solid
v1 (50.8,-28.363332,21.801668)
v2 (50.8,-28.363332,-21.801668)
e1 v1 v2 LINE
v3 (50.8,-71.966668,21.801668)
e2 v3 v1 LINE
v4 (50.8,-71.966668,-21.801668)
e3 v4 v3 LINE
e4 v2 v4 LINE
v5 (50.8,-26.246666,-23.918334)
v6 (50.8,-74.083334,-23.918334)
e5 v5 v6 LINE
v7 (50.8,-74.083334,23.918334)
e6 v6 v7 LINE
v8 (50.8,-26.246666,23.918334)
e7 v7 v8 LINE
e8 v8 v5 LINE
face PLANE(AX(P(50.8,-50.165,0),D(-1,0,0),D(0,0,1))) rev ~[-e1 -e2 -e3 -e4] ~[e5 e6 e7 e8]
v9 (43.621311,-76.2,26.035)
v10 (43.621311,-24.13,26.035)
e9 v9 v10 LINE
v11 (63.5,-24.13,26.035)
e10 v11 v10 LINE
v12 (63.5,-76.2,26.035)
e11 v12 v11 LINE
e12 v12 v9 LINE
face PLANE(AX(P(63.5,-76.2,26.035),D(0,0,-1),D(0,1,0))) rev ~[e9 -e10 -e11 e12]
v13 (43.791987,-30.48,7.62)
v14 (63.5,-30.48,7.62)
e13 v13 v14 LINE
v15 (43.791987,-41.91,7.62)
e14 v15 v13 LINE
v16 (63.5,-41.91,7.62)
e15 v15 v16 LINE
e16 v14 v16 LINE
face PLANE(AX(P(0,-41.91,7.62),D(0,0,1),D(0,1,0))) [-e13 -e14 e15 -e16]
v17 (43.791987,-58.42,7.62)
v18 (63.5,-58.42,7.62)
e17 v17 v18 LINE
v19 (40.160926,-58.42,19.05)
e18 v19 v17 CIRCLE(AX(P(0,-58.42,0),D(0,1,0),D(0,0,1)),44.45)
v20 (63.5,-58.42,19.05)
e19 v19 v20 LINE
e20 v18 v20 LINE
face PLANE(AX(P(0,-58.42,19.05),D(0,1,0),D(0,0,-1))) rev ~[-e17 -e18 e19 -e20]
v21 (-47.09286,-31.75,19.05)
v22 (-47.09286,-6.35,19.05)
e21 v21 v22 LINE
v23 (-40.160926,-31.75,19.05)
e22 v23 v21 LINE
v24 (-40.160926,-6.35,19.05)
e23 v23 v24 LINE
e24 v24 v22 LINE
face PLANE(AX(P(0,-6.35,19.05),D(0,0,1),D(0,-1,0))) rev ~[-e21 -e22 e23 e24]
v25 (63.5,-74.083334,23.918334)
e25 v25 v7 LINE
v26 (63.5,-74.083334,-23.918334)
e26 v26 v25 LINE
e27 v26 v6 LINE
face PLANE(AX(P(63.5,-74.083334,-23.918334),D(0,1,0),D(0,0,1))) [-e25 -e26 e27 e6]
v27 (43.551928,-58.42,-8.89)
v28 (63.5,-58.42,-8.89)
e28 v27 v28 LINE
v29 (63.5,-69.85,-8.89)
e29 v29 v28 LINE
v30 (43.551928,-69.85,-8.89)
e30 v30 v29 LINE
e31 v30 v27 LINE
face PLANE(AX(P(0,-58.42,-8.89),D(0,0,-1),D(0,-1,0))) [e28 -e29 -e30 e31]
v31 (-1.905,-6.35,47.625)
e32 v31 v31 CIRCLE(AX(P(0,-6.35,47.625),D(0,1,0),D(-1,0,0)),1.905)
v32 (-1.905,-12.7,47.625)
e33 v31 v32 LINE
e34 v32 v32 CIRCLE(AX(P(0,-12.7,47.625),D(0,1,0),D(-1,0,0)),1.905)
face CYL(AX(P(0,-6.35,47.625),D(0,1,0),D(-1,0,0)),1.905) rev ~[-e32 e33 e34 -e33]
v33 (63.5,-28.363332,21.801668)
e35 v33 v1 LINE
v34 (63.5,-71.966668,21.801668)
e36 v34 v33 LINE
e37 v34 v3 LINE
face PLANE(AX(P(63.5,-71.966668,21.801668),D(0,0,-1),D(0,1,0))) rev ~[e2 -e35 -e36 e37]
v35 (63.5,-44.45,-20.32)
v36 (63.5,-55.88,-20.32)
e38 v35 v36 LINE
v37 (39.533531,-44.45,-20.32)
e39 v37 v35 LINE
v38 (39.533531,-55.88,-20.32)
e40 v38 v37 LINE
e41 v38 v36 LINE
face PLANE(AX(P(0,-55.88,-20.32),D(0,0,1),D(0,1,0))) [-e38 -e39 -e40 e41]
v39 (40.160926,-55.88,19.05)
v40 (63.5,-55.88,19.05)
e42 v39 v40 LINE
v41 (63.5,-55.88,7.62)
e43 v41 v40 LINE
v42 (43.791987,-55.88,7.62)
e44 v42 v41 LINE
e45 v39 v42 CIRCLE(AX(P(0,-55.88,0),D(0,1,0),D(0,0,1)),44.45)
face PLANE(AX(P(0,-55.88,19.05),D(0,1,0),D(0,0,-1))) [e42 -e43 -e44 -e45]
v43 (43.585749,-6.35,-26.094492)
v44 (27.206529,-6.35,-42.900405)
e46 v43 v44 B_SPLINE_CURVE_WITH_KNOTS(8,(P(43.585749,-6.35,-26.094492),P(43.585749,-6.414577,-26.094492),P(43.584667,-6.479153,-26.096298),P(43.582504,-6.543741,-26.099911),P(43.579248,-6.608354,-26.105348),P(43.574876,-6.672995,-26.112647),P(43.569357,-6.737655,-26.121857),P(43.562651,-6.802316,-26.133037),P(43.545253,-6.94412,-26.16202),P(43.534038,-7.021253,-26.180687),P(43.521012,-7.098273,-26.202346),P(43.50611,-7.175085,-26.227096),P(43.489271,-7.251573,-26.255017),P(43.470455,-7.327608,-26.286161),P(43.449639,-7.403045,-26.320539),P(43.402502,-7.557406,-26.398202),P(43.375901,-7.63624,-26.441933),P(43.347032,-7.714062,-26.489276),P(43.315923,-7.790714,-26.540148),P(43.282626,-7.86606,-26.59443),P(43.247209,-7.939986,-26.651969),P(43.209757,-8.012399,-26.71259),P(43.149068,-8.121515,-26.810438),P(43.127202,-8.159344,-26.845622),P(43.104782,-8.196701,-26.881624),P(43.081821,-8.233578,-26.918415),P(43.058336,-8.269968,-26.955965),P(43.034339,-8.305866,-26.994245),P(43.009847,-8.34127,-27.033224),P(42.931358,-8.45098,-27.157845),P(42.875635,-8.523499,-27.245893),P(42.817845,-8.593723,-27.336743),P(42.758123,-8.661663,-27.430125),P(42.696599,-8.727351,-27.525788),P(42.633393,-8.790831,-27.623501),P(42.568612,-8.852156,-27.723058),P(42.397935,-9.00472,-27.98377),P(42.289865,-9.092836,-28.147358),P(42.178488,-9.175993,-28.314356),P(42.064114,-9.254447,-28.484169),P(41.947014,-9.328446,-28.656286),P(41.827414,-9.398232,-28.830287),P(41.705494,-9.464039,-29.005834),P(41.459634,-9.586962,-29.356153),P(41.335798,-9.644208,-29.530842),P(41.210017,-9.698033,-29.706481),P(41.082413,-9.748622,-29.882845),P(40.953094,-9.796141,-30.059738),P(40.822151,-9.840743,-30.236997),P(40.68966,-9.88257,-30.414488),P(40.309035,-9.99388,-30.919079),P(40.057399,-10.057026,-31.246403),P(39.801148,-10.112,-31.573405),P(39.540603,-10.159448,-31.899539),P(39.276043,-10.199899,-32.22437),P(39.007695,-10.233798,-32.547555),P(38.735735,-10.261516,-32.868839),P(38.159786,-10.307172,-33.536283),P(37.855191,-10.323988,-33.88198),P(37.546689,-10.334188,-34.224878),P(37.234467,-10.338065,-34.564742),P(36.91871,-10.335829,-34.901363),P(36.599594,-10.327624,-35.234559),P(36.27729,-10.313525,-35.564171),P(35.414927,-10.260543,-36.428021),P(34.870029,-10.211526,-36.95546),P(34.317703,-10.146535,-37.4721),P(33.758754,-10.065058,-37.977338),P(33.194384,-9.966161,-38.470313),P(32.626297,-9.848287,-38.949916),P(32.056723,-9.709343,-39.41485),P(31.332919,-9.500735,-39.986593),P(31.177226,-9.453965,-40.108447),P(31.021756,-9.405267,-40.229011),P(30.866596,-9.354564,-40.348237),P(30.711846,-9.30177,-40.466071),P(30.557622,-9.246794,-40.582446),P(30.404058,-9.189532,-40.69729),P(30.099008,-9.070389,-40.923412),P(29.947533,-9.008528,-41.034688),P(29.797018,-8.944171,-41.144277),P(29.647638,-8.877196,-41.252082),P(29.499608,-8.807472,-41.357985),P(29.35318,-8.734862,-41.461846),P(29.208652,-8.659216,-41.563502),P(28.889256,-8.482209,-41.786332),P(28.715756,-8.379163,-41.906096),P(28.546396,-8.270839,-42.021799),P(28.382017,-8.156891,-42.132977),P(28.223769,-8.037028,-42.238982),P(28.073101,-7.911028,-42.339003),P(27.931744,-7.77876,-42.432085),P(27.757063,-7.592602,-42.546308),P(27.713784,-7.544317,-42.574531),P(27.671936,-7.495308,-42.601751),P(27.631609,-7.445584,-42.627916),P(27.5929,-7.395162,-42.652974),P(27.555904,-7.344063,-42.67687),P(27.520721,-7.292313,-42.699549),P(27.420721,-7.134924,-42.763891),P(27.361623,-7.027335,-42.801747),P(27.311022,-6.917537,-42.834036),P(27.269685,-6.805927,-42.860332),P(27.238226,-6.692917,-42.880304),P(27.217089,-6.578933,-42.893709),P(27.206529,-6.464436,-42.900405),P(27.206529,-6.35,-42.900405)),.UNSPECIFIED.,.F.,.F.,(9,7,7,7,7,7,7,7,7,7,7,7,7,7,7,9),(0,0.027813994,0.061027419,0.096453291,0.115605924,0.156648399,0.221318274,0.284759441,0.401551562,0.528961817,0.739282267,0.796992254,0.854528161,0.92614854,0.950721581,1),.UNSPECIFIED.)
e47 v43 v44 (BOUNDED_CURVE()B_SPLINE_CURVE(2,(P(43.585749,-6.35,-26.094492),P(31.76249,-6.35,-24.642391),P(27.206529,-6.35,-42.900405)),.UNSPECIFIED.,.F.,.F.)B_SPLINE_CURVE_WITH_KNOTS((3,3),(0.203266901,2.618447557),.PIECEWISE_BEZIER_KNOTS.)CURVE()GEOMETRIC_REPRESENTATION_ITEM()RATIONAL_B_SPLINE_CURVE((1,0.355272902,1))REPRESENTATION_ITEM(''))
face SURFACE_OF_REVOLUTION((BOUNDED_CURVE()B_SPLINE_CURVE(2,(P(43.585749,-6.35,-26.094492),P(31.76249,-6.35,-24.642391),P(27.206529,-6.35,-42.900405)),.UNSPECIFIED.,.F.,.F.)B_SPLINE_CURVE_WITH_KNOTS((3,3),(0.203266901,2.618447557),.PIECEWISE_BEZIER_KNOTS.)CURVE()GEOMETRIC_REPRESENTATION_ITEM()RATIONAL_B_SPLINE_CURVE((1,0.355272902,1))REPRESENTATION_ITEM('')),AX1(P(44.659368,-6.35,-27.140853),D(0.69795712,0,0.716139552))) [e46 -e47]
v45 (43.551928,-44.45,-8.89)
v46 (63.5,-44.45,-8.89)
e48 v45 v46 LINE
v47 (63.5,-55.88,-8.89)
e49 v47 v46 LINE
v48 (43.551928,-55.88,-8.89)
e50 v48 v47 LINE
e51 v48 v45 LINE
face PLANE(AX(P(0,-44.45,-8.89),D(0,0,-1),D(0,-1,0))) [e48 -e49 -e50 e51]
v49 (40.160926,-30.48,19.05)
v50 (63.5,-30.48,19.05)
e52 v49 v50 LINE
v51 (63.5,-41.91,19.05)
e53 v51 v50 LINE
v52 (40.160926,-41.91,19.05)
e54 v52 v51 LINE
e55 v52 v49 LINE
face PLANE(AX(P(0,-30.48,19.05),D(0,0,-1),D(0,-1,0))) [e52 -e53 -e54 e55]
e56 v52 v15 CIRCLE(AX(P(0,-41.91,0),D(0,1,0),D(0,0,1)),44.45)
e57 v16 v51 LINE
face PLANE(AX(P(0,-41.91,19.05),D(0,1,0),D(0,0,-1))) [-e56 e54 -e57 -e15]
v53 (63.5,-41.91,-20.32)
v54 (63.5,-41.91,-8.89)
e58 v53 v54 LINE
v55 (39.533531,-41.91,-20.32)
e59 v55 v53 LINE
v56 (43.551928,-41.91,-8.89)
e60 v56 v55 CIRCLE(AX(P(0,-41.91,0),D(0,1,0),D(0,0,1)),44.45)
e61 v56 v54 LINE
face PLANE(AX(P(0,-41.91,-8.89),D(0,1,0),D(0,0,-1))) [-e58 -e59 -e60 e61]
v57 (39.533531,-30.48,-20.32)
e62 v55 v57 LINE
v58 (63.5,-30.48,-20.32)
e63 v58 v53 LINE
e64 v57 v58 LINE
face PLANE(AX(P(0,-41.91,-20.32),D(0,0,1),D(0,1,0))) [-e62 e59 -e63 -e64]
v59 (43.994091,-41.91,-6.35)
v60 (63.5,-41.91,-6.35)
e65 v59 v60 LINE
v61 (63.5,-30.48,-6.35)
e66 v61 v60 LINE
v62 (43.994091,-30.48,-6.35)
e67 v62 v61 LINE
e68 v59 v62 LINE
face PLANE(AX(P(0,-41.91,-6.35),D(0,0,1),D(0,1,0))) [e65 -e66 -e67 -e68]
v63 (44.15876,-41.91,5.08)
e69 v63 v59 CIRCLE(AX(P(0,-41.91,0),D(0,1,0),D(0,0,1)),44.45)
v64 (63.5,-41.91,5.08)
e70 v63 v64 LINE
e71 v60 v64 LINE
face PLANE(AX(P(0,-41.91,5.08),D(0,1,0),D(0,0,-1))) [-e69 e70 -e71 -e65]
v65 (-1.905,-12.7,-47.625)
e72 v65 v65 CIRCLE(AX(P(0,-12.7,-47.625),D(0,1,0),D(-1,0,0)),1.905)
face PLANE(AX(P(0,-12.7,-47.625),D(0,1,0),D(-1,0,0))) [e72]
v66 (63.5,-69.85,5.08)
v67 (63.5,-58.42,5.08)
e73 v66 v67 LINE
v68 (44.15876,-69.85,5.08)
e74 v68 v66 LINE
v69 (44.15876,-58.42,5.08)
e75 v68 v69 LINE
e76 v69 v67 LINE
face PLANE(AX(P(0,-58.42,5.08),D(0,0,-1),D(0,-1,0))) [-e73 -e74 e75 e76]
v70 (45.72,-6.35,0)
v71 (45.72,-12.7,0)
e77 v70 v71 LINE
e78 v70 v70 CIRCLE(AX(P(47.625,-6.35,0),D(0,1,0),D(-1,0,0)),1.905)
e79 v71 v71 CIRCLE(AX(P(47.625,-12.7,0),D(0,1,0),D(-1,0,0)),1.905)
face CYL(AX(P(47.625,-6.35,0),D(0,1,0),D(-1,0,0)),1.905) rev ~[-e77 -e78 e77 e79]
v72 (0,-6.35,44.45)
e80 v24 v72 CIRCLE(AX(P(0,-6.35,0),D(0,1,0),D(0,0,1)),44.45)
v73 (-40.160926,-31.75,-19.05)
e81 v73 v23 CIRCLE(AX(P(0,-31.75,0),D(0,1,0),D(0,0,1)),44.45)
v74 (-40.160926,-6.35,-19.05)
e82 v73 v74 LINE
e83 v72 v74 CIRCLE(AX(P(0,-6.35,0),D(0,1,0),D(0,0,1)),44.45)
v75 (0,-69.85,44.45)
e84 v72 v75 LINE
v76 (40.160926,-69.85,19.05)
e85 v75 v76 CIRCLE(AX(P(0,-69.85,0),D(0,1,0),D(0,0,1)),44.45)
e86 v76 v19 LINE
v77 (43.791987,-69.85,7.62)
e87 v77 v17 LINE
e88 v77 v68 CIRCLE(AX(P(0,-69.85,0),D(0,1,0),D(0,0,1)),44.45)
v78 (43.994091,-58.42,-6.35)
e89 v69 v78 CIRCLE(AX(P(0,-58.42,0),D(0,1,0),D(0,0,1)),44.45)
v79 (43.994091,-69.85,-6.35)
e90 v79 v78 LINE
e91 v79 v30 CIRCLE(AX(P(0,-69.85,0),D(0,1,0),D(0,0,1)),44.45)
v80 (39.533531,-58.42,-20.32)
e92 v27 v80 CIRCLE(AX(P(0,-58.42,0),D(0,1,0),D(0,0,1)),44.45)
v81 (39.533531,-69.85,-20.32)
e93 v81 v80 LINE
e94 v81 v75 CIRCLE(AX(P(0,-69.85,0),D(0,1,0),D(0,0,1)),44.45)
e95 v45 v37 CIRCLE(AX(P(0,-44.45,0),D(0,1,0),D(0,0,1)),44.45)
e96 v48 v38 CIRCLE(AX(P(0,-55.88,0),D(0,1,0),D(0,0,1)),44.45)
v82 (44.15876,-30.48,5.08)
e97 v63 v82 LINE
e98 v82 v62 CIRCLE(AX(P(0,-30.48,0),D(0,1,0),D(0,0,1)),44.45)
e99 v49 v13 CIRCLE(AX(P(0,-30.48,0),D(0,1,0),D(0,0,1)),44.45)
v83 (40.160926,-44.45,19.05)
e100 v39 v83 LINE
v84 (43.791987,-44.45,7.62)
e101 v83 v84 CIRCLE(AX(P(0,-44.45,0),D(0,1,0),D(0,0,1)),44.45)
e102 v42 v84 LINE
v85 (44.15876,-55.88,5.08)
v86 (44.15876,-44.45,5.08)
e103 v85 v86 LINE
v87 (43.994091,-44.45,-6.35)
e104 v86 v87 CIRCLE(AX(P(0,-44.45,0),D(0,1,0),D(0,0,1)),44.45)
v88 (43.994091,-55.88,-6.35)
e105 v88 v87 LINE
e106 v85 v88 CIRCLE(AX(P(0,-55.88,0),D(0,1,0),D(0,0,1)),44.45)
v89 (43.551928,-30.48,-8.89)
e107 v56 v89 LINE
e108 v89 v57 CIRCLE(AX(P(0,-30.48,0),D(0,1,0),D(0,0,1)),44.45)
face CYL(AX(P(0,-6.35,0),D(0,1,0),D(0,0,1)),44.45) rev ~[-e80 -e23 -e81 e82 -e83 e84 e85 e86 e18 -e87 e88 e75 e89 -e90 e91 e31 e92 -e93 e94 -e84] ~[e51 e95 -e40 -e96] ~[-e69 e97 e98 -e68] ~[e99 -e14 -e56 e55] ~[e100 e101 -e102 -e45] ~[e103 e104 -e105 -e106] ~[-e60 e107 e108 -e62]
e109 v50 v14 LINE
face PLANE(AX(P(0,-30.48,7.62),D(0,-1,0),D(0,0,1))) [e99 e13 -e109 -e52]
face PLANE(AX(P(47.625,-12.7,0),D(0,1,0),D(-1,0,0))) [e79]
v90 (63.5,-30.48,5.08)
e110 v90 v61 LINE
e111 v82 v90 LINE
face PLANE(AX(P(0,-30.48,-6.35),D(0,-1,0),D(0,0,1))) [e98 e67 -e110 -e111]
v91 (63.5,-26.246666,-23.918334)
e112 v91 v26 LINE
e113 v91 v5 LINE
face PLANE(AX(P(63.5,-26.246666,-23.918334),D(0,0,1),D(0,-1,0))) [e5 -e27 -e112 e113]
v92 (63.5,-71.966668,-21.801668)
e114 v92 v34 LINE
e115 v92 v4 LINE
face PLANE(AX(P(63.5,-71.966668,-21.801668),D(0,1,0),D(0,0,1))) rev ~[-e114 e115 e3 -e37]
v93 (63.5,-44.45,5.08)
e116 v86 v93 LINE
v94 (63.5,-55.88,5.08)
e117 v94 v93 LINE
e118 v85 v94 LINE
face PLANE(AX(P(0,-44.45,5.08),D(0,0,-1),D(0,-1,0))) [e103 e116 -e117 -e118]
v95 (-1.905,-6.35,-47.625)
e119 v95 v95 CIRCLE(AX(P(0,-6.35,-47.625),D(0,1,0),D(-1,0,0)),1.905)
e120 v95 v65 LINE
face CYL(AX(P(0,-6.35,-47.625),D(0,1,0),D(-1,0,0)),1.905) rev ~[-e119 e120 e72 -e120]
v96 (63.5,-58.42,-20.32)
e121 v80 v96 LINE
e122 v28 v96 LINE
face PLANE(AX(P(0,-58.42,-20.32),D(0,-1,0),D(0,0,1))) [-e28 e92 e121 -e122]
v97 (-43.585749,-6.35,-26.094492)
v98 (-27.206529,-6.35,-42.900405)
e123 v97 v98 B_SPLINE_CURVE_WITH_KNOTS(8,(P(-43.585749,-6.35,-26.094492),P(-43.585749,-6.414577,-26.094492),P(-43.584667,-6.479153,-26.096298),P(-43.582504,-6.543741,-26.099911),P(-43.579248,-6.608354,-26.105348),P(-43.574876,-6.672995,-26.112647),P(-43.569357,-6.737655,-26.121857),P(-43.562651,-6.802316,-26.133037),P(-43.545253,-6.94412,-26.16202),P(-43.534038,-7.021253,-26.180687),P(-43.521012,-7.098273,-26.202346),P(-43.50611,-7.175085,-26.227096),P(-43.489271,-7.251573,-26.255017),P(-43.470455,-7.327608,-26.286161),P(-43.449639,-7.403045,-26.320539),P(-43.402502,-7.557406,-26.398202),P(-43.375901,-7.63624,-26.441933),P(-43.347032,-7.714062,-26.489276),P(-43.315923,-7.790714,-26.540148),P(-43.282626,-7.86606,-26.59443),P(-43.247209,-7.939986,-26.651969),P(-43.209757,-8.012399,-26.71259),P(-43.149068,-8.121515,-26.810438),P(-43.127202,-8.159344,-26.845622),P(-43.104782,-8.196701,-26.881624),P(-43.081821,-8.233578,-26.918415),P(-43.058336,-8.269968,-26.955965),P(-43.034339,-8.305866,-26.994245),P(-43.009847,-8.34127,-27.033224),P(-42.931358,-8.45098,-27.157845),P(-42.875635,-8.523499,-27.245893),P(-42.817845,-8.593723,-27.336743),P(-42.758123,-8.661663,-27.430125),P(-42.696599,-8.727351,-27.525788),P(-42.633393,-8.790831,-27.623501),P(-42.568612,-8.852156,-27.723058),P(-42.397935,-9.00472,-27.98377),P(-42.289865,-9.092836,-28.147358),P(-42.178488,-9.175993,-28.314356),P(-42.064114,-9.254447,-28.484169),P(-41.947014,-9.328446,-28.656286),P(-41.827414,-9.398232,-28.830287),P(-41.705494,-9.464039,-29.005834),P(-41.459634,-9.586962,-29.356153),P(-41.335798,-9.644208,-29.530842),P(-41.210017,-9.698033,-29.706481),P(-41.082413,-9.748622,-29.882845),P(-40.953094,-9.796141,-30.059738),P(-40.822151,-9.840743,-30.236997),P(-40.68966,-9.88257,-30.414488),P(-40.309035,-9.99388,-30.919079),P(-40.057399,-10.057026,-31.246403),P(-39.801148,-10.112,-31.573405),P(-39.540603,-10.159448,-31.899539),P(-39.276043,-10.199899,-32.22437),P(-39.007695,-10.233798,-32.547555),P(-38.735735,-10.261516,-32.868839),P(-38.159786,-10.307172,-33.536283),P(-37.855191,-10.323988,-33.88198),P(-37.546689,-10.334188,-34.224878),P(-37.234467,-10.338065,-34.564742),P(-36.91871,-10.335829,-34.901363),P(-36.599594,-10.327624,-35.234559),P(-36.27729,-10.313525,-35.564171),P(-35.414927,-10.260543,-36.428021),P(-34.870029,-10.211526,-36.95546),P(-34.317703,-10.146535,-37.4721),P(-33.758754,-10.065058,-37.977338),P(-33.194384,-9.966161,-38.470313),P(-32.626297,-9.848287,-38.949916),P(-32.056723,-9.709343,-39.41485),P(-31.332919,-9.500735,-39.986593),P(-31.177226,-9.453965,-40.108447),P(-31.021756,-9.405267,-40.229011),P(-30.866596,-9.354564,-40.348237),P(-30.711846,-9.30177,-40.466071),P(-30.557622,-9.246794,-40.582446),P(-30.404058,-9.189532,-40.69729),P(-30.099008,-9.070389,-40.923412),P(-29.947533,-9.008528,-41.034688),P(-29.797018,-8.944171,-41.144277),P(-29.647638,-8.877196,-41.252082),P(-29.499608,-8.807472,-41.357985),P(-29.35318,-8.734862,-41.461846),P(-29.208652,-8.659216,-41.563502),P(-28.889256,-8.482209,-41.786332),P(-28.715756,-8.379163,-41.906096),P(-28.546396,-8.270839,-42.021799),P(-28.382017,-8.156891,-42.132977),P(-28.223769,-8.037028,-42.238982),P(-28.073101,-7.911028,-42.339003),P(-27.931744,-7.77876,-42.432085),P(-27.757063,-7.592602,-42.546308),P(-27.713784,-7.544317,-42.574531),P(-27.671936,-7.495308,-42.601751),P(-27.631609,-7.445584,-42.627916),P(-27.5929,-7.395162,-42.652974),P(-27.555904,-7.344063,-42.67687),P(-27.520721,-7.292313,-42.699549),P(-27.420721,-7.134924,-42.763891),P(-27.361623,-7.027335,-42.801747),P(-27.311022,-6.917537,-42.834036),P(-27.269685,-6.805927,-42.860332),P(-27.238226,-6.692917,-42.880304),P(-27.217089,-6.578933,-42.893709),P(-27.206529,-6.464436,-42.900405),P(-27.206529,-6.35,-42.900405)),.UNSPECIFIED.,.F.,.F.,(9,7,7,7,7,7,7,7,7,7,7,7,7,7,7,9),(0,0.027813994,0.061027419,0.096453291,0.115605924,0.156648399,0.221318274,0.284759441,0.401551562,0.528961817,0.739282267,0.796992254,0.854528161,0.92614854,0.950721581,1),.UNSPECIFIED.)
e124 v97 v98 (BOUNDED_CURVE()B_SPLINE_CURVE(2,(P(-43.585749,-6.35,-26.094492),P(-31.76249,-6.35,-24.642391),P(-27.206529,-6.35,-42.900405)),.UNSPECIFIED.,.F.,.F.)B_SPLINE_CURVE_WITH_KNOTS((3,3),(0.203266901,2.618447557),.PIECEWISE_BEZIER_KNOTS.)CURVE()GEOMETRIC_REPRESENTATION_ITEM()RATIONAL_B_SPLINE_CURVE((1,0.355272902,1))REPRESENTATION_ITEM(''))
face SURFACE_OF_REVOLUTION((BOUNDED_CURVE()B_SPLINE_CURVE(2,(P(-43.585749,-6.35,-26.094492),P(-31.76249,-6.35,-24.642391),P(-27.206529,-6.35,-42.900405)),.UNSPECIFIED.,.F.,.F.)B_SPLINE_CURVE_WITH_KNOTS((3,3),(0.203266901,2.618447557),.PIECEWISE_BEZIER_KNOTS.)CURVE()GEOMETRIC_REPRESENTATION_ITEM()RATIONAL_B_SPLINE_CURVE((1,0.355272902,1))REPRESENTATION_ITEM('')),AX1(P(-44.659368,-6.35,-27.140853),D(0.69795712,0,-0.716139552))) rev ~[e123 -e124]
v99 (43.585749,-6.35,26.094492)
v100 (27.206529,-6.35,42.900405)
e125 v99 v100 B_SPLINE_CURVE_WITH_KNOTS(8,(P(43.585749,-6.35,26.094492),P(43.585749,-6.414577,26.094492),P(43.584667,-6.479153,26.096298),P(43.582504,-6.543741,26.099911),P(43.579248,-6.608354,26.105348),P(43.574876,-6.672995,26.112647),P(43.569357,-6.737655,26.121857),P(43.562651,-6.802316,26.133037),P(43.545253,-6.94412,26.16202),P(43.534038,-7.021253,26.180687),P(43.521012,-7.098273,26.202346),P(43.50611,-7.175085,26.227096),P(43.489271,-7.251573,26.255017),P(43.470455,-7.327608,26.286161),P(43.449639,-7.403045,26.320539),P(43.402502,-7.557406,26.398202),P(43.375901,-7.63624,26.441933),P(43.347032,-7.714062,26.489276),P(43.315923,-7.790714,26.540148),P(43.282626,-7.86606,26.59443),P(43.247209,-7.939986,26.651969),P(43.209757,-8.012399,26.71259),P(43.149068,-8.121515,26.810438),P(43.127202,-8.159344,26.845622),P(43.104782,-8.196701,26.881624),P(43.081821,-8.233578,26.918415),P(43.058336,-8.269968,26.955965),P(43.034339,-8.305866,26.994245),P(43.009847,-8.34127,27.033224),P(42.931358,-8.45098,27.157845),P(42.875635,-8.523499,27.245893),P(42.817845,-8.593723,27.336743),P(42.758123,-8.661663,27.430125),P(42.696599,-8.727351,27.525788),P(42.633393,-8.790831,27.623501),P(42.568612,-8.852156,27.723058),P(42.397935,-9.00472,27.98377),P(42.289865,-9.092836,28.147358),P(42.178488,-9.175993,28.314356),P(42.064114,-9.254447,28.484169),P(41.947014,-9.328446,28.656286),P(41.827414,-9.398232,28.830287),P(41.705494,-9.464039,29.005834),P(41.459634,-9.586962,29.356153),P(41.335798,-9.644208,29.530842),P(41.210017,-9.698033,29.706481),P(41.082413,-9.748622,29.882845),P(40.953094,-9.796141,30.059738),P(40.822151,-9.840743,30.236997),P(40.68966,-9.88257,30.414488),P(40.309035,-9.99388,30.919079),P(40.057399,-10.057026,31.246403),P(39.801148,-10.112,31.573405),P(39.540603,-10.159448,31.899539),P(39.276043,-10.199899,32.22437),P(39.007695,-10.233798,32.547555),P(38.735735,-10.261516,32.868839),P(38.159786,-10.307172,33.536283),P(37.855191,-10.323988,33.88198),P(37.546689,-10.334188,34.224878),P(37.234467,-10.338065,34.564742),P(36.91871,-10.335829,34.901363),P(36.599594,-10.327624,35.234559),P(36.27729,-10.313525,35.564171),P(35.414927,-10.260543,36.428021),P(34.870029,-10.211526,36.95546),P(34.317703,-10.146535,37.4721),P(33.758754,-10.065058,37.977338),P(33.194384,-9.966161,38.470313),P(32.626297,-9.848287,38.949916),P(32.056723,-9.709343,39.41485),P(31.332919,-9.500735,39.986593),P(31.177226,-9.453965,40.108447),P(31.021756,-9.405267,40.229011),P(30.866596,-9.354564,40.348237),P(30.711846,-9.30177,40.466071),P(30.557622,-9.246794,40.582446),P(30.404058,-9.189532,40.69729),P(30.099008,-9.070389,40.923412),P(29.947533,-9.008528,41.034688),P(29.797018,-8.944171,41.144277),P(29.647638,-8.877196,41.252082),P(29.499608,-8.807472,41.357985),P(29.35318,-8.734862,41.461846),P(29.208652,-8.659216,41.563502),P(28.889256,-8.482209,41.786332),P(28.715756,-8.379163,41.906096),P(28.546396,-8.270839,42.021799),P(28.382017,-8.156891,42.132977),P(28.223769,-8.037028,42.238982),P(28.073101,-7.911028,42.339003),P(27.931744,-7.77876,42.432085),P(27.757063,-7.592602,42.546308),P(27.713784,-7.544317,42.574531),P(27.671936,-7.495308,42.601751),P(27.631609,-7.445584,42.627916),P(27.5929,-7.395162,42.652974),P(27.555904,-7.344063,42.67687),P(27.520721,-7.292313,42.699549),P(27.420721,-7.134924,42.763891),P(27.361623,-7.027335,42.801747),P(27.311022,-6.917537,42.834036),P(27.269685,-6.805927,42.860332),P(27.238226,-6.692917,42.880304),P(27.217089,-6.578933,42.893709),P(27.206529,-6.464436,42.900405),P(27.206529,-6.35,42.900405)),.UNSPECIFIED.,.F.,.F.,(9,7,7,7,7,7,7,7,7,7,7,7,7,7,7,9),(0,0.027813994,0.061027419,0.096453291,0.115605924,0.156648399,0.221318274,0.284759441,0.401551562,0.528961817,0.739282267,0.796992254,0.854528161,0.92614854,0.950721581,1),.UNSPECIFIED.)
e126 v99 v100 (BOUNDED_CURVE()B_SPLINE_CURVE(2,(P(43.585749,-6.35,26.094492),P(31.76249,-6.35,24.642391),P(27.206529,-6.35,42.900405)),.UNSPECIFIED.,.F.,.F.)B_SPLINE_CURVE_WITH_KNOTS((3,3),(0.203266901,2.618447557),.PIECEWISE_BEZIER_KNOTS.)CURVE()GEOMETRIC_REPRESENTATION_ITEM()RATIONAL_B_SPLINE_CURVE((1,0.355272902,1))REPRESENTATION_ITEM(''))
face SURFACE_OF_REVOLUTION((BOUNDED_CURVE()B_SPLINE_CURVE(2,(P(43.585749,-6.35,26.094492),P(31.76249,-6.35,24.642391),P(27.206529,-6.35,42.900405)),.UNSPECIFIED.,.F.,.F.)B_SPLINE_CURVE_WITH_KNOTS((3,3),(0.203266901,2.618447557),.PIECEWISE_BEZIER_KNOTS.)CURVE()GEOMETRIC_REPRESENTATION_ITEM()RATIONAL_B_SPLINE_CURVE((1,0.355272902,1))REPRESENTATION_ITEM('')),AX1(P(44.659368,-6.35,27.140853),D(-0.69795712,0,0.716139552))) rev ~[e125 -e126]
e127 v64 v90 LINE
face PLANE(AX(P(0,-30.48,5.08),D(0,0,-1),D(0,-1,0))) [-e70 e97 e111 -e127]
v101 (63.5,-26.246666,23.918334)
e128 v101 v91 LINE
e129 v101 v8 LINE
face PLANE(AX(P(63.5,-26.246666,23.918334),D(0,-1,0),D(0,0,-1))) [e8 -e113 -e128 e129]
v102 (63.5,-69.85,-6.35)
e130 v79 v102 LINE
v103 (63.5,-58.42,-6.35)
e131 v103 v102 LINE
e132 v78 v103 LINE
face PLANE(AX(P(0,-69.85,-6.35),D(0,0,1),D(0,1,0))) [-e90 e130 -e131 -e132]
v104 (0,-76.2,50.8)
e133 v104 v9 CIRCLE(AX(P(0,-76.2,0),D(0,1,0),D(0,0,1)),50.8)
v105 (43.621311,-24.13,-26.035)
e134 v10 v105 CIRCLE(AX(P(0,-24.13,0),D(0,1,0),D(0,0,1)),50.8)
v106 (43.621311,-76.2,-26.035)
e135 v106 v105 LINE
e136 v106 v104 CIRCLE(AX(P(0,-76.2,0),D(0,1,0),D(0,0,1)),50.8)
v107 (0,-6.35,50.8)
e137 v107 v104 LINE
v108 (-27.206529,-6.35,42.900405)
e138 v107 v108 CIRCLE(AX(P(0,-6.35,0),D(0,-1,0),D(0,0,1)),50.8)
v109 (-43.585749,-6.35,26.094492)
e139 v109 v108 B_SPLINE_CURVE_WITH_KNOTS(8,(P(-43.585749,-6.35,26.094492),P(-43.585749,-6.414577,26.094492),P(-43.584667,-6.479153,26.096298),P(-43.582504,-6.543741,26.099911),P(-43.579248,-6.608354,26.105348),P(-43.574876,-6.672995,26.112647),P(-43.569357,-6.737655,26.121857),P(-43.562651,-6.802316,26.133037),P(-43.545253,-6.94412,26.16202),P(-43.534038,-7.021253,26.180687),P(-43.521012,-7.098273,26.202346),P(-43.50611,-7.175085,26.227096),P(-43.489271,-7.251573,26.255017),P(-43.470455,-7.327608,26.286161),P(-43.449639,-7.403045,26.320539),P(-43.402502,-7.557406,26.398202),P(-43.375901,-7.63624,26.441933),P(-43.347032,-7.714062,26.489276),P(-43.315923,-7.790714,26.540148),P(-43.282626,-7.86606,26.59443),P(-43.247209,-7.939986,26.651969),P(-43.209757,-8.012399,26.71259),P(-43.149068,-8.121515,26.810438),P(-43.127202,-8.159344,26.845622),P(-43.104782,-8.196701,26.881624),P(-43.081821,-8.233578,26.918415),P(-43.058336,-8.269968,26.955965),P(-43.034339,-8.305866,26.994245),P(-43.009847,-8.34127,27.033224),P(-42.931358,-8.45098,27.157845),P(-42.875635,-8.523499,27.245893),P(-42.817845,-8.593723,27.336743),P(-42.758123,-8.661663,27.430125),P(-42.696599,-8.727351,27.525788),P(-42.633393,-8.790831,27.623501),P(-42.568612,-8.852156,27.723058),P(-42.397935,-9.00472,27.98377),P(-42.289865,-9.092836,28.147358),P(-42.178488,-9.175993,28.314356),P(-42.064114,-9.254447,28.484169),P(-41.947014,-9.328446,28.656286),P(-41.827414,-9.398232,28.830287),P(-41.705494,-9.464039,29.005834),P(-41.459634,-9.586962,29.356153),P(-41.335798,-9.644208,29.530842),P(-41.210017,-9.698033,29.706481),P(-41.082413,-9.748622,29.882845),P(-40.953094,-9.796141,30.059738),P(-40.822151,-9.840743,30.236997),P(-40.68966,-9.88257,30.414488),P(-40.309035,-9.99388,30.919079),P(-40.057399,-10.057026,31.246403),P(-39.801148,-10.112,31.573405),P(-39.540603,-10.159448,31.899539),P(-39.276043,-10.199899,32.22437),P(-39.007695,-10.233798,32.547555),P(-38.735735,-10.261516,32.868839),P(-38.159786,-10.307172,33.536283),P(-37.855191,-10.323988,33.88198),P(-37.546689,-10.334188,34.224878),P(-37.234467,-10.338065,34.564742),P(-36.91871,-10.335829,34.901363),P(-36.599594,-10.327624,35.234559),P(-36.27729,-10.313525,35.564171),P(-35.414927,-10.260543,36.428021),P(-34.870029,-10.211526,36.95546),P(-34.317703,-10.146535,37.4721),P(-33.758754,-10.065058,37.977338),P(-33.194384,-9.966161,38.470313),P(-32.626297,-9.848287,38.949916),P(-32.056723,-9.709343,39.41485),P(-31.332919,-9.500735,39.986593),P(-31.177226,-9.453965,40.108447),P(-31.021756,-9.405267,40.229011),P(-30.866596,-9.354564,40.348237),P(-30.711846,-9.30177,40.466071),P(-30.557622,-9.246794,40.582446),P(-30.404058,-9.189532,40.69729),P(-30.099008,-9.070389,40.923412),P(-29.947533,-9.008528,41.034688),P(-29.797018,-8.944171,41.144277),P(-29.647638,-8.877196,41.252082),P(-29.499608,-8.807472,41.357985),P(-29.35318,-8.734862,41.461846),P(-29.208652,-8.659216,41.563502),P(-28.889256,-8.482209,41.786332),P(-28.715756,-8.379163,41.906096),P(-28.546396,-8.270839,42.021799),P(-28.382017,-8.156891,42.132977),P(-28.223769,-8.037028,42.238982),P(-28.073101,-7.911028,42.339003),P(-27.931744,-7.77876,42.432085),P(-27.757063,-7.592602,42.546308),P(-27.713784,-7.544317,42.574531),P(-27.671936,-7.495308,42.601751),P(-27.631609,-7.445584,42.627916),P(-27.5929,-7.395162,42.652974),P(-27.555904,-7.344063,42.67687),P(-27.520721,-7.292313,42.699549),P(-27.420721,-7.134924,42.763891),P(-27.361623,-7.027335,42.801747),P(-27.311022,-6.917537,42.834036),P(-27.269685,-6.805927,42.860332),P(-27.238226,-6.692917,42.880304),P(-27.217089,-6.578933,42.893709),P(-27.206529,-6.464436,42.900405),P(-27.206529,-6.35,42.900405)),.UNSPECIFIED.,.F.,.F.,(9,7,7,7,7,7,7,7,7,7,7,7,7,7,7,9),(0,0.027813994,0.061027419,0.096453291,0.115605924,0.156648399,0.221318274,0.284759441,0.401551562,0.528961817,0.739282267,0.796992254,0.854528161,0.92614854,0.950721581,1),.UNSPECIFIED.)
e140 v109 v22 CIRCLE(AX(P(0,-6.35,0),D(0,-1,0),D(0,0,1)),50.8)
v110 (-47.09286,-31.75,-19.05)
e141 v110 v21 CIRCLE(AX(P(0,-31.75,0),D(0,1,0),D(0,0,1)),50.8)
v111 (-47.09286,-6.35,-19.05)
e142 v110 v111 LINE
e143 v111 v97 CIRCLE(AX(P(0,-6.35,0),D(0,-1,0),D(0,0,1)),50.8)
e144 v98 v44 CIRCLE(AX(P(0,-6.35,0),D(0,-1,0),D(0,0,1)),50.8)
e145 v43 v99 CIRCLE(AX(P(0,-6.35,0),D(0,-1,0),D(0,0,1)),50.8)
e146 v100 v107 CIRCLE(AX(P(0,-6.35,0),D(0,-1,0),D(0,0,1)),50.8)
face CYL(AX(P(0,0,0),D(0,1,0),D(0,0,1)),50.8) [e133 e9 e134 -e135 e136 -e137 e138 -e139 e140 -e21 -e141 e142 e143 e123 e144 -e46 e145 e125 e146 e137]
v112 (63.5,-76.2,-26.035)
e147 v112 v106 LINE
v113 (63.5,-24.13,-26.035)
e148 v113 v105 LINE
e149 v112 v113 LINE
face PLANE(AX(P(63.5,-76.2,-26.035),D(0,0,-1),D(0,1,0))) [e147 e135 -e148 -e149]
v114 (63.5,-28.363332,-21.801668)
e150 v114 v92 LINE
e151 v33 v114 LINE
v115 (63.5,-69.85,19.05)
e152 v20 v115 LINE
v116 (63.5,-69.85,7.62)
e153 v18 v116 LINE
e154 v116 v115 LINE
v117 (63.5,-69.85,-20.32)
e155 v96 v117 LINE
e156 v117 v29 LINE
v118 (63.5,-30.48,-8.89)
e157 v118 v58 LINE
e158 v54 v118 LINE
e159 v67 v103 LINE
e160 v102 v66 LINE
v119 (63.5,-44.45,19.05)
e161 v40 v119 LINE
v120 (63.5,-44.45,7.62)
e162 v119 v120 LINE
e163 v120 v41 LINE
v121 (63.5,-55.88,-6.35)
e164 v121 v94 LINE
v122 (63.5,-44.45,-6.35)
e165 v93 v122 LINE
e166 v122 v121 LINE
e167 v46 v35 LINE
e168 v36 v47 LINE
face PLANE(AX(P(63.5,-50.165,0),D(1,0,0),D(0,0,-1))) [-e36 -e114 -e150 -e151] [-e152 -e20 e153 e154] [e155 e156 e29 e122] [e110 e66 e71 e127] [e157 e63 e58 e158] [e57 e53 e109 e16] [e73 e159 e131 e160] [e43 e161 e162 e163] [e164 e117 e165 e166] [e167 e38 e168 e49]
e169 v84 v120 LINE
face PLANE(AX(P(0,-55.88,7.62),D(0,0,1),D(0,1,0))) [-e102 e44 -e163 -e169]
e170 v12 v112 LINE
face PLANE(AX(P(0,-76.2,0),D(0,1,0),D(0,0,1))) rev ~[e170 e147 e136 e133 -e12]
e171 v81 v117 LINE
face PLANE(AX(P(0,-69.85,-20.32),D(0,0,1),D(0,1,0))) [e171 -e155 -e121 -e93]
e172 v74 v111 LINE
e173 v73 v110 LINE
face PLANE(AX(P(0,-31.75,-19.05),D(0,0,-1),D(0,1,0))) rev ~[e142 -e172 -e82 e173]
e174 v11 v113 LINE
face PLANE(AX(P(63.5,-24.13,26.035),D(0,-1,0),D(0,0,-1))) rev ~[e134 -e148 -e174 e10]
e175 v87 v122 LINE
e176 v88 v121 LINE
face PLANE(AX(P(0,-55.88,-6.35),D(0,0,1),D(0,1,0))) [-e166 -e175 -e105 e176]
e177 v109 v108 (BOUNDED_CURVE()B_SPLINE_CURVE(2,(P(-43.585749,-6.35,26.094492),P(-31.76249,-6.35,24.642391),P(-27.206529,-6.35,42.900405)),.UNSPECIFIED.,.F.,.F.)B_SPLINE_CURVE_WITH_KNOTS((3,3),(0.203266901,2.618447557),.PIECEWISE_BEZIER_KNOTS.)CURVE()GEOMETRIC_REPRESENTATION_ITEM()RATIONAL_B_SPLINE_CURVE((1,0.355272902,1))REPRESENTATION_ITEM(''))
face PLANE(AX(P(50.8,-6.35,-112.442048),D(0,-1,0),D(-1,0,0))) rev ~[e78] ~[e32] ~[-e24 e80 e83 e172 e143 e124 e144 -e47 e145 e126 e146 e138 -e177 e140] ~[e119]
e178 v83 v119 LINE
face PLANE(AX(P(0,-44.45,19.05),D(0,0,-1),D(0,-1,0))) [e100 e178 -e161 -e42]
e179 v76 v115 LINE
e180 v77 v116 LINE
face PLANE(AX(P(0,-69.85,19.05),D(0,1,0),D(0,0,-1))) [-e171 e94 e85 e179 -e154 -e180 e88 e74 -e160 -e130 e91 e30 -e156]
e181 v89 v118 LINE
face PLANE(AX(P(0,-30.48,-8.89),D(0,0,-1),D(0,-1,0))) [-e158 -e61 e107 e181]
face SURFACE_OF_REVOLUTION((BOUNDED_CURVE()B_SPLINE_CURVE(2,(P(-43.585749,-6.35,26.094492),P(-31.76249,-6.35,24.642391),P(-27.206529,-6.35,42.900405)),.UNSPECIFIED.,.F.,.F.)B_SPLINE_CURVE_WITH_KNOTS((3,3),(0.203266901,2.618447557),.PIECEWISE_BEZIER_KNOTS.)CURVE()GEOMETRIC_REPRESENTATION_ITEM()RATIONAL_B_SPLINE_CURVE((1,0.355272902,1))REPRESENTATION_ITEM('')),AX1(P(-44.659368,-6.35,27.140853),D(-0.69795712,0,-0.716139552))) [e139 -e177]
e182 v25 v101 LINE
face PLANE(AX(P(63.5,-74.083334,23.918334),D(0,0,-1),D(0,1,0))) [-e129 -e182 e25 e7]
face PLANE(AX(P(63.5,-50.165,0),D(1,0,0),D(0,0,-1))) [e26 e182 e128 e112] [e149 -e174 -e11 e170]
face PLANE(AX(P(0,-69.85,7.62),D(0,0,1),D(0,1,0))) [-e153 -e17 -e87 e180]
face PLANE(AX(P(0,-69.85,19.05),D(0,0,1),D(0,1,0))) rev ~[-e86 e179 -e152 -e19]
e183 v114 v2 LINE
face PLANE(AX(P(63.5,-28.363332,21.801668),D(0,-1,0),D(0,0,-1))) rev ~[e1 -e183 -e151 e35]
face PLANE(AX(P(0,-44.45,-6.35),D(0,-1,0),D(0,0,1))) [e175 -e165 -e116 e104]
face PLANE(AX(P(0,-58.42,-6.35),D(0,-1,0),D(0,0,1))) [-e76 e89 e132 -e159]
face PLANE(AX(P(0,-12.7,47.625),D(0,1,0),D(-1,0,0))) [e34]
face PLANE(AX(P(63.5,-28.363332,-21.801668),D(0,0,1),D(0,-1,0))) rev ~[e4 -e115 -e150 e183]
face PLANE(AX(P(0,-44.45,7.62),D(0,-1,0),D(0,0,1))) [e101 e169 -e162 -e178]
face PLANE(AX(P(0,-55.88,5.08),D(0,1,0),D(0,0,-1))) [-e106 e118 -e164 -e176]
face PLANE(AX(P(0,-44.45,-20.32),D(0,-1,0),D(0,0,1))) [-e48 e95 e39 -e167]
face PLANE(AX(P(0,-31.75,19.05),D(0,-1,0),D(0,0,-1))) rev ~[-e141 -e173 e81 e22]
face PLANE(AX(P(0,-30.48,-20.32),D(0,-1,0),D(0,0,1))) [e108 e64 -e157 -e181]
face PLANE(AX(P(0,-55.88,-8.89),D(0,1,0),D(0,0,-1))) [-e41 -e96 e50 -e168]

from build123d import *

# Parameters (mm, degrees)
SKETCH2_R                = 50.8
BOSS_EXTRUDE1_DEPTH      = 76.2
CUT_EXTRUDE4_START       = -6.35
SKETCH5_R                = 44.449999999999996
CUT_EXTRUDE4_DEPTH       = 63.5
CUT_EXTRUDE6_REACH       = 106.727
SKETCH14_R               = 7.62
BOSS_EXTRUDE4_REACH      = 170.227
BOSS_EXTRUDE4_END_RADIUS = 50.8
BOSS_EXTRUDE4_START      = 63.5
SKETCH17_W               = 52.06999999999999
SKETCH17_H               = 52.06999999999999
SKETCH15_W               = 11.430000000000003
SKETCH15_H               = 11.430000000000021
CUT_EXTRUDE7_DEPTH       = 112.44204771987995
CUT_EXTRUDE9_DEPTH       = 12.7
CUT_EXTRUDE10_DEPTH      = 112.44204771987995
CUT_EXTRUDE10_DEPTH_BACK = 112.44204771987995
SKETCH22_R               = 1.9049999999999998
SKETCH22_R_2             = 1.905
CUT_EXTRUDE11_DEPTH      = 6.35
CUT_EXTRUDE12_REACH      = 113.442
CUT_EXTRUDE12_END_RADIUS = 50.8


with BuildPart() as part:
    # Sketch2 → Boss-Extrude1 (new body)
    with BuildSketch(Plane(origin=(0, 0, 0), x_dir=(1, 0, 0), z_dir=(0, 1, 0))):
        with Locations(Location((0, 0, 0), (0, 0, 270))):
            Circle(SKETCH2_R)
    extrude(amount=-BOSS_EXTRUDE1_DEPTH)

    # Sketch5 → Cut-Extrude4 (cut)
    with BuildSketch(Plane(origin=(0, 0, 0), x_dir=(1, 0, 0), z_dir=(0, 1, 0)).offset(CUT_EXTRUDE4_START)):
        with Locations(Location((0, 0, 0), (0, 0, 270))):
            Circle(SKETCH5_R)
    extrude(amount=-CUT_EXTRUDE4_DEPTH, mode=Mode.SUBTRACT)

    # Sketch14 → Cut-Extrude6 (cut, up to next)
    with BuildSketch(Plane(origin=(0, 0, 0), x_dir=(1, 0, 0), z_dir=(0, 1, 0)), mode=Mode.PRIVATE) as cut_extrude6_sk1:
        with Locations(Location((0, 0, 0), (0, 0, 270))):
            Circle(SKETCH14_R)
    cut_extrude6_tool1 = extrude(cut_extrude6_sk1.sketch, amount=-CUT_EXTRUDE6_REACH, mode=Mode.PRIVATE) & part.part
    add(cut_extrude6_tool1.solids().sort_by_distance((0, 0, 0))[0], mode=Mode.SUBTRACT)

    # Boss-Extrude4: up to this cylinder (the profile starts outside it)
    boss_extrude4_end = Plane(origin=(0, -50.165, 0), z_dir=(0, 1, 0)) * Cylinder(BOSS_EXTRUDE4_END_RADIUS, 443.054, mode=Mode.PRIVATE)
    # Sketch17 → Boss-Extrude4 (add, up to the surface)
    with BuildSketch(Plane(origin=(0, 0, 0), x_dir=(0, 0, -1), z_dir=(1, 0, 0)).offset(BOSS_EXTRUDE4_START), mode=Mode.PRIVATE) as boss_extrude4_sk1:
        with Locations((0, -50.165000000000006)):
            Rectangle(SKETCH17_W, SKETCH17_H)
    boss_extrude4_tool1 = extrude(boss_extrude4_sk1.sketch, amount=-BOSS_EXTRUDE4_REACH, mode=Mode.PRIVATE) - boss_extrude4_end
    add(boss_extrude4_tool1.solids().sort_by_distance((63.5, -50.165, 0))[0])

    # Sketch15 → Cut-Extrude7 (cut, through all)
    with BuildSketch(Plane(origin=(0, 0, 0), x_dir=(0, 0, -1), z_dir=(1, 0, 0))):
        Polygon((8.890000000000002, -30.480000000000018), (8.890000000000004, -41.91000000000002), (20.320000000000007, -41.91000000000002), (20.320000000000004, -30.480000000000018), align=None)
        Polygon((8.890000000000004, -44.45000000000002), (8.890000000000004, -55.879999999999995), (20.32000000000001, -55.87999999999999), (20.320000000000004, -44.45000000000002), align=None)
        Polygon((8.890000000000004, -58.42000000000001), (8.890000000000006, -69.85000000000002), (20.320000000000007, -69.85000000000002), (20.320000000000004, -58.42000000000001), align=None)
        Polygon((-5.079999999999998, -30.480000000000018), (-5.0799999999999965, -41.91000000000002), (6.350000000000003, -41.91000000000002), (6.3500000000000005, -30.480000000000018), align=None)
        Polygon((-5.0799999999999965, -44.45000000000002), (-5.079999999999994, -55.879999999999995), (6.350000000000005, -55.879999999999995), (6.350000000000002, -44.45000000000002), align=None)
        Polygon((-5.079999999999994, -58.42000000000001), (-5.079999999999992, -69.85000000000002), (6.3500000000000085, -69.85000000000002), (6.350000000000005, -58.42000000000001), align=None)
        with Locations((-13.334999999999996, -64.13500000000002)):
            Rectangle(SKETCH15_W, SKETCH15_H)
        Polygon((-19.049999999999997, -44.45000000000002), (-19.049999999999997, -55.88), (-7.619999999999997, -55.88), (-7.620000000000001, -44.45000000000001), align=None)
        Polygon((-19.049999999999997, -30.480000000000018), (-19.049999999999997, -41.91000000000002), (-7.619999999999997, -41.91000000000002), (-7.619999999999999, -30.480000000000018), align=None)
    extrude(amount=CUT_EXTRUDE7_DEPTH, mode=Mode.SUBTRACT)

    # Sketch19 → Cut-Extrude9 (cut)
    with BuildSketch(Plane(origin=(63.5, 0, 0), x_dir=(0, 0, -1), z_dir=(1, 0, 0))):
        Polygon((-23.91833418, -26.24666582000001), (23.91833418, -26.24666582000001), (23.918334180000006, -74.08333418000001), (-23.918334179999995, -74.08333418000001), align=None)
        Polygon((-21.801668359999997, -28.36333164000001), (21.801668359999997, -28.36333164000001), (21.801668360000008, -71.96666836), (-21.80166835999999, -71.96666836), align=None, mode=Mode.SUBTRACT)
    extrude(amount=-CUT_EXTRUDE9_DEPTH, mode=Mode.SUBTRACT)

    # Sketch21 → Cut-Extrude10 (cut, two sides: drawn at the far end of the back side and taken through both)
    with BuildSketch(Plane.XY.offset(-CUT_EXTRUDE10_DEPTH_BACK)):
        Polygon((-50.8, -5.551e-14), (50.8, -5.551e-14), (50.8, -6.350000000000057), (-50.8, -6.350000000000056), align=None)
    extrude(amount=CUT_EXTRUDE10_DEPTH + CUT_EXTRUDE10_DEPTH_BACK, mode=Mode.SUBTRACT)

    # Sketch22 → Cut-Extrude11 (cut)
    with BuildSketch(Plane(origin=(-1.1e-16, -6.3500000000000565, 0), x_dir=(1, -2e-17, 0), z_dir=(2e-17, 1, 0))):
        with Locations(Location((-47.625, 0, 0), (0, 0, 180))):
            Circle(SKETCH22_R)
        with Locations(Location((-3.47e-15, 47.625, 0), (0, 0, 180))):
            Circle(SKETCH22_R_2)
        with Locations(Location((47.625, -2e-17, 0), (0, 0, 180))):
            Circle(SKETCH22_R)
        with Locations(Location((0, -47.625, 0), (0, 0, 180))):
            Circle(SKETCH22_R)
    extrude(amount=-CUT_EXTRUDE11_DEPTH, mode=Mode.SUBTRACT)

    # Sketch23 → Cut-Revolve2 (revolve, cut)
    with BuildSketch(Plane(origin=(-1.1e-16, -6.3500000000000565, 0), x_dir=(1, -2e-17, 0), z_dir=(2e-17, 1, 0))):
        with BuildLine():
            ThreePointArc((-35.92102448427656, 35.92102448427667), (-40.05586016064811, 31.243688431275256), (-43.58574874724786, 26.094491873607765))
            add(Edge.make_bspline(
                [(-43.58574874724785, 26.09449187360776), (-31.762489950913196, 24.642390713165252), (-27.206529454407143, 42.90040506855935)],
                knots=[0.20326690102876438, 0.20326690102876438, 0.20326690102876438, 2.6184475567908634, 2.6184475567908634, 2.6184475567908634], degree=2, weights=[1, 0.3552729019239298, 1]))
            ThreePointArc((-27.206529454407157, 42.90040506855938), (-31.756101065864836, 39.650851757491644), (-35.92102448427656, 35.921024484276664))
        make_face()
    cut_revolve2 = revolve(axis=Axis((-44.65936804956108, -6.350000000000056, -27.140852507845565), (0.6979571200610449, 0, -0.7161395524310135)), mode=Mode.SUBTRACT)

    # Mirror1: Cut-Revolve2 across plane
    add(cut_revolve2.mirror(Plane.XY), mode=Mode.SUBTRACT)

    # Mirror2: Cut-Revolve2 across plane
    add(cut_revolve2.mirror(Plane(origin=(0, 0, 0), x_dir=(0, 0, 1), z_dir=(1, 0, 0))), mode=Mode.SUBTRACT)

    # Mirror2 copy 1 sketch → Mirror2 copy 1 (revolve, cut)
    with BuildSketch(Plane(origin=(1.1e-16, -6.3500000000000565, 0), x_dir=(-1, -2e-17, 0), z_dir=(-2e-17, 1, 0))):
        with BuildLine():
            ThreePointArc((-35.92102448427656, 35.92102448427667), (-40.05586016064811, 31.243688431275256), (-43.58574874724786, 26.094491873607765))
            add(Edge.make_bspline(
                [(-43.58574874724785, 26.09449187360776), (-31.762489950913196, 24.642390713165252), (-27.206529454407143, 42.90040506855935)],
                knots=[0.20326690102876438, 0.20326690102876438, 0.20326690102876438, 2.6184475567908634, 2.6184475567908634, 2.6184475567908634], degree=2, weights=[1, 0.3552729019239298, 1]))
            ThreePointArc((-27.206529454407157, 42.90040506855938), (-31.756101065864836, 39.650851757491644), (-35.92102448427656, 35.921024484276664))
        make_face()
    revolve(axis=Axis((44.65936804956108, -6.350000000000056, 27.140852507845565), (-0.6979571200610449, 0, 0.7161395524310135)), mode=Mode.SUBTRACT)

    # Cut-Extrude12: up to this cylinder (the profile starts inside it)
    cut_extrude12_end = Plane(origin=(0, -19.049999999999997, 0), z_dir=(0, 1, 0)) * Cylinder(CUT_EXTRUDE12_END_RADIUS, 329.484, mode=Mode.PRIVATE)
    # Sketch24 → Cut-Extrude12 (cut, up to the surface)
    with BuildSketch(Plane(origin=(0, 0, 0), x_dir=(0, 0, -1), z_dir=(1, 0, 0)), mode=Mode.PRIVATE) as cut_extrude12_sk1:
        Polygon((19.05, -6.350000000000049), (-19.050000000000004, -6.350000000000054), (-19.05, -31.750000000000064), (19.050000000000008, -31.75000000000005), align=None)
    cut_extrude12_tool1 = extrude(cut_extrude12_sk1.sketch, amount=-CUT_EXTRUDE12_REACH, mode=Mode.PRIVATE) & cut_extrude12_end
    add(cut_extrude12_tool1.solids().sort_by_distance((0, -19.05, 0))[0], mode=Mode.SUBTRACT)


solid = part.part
